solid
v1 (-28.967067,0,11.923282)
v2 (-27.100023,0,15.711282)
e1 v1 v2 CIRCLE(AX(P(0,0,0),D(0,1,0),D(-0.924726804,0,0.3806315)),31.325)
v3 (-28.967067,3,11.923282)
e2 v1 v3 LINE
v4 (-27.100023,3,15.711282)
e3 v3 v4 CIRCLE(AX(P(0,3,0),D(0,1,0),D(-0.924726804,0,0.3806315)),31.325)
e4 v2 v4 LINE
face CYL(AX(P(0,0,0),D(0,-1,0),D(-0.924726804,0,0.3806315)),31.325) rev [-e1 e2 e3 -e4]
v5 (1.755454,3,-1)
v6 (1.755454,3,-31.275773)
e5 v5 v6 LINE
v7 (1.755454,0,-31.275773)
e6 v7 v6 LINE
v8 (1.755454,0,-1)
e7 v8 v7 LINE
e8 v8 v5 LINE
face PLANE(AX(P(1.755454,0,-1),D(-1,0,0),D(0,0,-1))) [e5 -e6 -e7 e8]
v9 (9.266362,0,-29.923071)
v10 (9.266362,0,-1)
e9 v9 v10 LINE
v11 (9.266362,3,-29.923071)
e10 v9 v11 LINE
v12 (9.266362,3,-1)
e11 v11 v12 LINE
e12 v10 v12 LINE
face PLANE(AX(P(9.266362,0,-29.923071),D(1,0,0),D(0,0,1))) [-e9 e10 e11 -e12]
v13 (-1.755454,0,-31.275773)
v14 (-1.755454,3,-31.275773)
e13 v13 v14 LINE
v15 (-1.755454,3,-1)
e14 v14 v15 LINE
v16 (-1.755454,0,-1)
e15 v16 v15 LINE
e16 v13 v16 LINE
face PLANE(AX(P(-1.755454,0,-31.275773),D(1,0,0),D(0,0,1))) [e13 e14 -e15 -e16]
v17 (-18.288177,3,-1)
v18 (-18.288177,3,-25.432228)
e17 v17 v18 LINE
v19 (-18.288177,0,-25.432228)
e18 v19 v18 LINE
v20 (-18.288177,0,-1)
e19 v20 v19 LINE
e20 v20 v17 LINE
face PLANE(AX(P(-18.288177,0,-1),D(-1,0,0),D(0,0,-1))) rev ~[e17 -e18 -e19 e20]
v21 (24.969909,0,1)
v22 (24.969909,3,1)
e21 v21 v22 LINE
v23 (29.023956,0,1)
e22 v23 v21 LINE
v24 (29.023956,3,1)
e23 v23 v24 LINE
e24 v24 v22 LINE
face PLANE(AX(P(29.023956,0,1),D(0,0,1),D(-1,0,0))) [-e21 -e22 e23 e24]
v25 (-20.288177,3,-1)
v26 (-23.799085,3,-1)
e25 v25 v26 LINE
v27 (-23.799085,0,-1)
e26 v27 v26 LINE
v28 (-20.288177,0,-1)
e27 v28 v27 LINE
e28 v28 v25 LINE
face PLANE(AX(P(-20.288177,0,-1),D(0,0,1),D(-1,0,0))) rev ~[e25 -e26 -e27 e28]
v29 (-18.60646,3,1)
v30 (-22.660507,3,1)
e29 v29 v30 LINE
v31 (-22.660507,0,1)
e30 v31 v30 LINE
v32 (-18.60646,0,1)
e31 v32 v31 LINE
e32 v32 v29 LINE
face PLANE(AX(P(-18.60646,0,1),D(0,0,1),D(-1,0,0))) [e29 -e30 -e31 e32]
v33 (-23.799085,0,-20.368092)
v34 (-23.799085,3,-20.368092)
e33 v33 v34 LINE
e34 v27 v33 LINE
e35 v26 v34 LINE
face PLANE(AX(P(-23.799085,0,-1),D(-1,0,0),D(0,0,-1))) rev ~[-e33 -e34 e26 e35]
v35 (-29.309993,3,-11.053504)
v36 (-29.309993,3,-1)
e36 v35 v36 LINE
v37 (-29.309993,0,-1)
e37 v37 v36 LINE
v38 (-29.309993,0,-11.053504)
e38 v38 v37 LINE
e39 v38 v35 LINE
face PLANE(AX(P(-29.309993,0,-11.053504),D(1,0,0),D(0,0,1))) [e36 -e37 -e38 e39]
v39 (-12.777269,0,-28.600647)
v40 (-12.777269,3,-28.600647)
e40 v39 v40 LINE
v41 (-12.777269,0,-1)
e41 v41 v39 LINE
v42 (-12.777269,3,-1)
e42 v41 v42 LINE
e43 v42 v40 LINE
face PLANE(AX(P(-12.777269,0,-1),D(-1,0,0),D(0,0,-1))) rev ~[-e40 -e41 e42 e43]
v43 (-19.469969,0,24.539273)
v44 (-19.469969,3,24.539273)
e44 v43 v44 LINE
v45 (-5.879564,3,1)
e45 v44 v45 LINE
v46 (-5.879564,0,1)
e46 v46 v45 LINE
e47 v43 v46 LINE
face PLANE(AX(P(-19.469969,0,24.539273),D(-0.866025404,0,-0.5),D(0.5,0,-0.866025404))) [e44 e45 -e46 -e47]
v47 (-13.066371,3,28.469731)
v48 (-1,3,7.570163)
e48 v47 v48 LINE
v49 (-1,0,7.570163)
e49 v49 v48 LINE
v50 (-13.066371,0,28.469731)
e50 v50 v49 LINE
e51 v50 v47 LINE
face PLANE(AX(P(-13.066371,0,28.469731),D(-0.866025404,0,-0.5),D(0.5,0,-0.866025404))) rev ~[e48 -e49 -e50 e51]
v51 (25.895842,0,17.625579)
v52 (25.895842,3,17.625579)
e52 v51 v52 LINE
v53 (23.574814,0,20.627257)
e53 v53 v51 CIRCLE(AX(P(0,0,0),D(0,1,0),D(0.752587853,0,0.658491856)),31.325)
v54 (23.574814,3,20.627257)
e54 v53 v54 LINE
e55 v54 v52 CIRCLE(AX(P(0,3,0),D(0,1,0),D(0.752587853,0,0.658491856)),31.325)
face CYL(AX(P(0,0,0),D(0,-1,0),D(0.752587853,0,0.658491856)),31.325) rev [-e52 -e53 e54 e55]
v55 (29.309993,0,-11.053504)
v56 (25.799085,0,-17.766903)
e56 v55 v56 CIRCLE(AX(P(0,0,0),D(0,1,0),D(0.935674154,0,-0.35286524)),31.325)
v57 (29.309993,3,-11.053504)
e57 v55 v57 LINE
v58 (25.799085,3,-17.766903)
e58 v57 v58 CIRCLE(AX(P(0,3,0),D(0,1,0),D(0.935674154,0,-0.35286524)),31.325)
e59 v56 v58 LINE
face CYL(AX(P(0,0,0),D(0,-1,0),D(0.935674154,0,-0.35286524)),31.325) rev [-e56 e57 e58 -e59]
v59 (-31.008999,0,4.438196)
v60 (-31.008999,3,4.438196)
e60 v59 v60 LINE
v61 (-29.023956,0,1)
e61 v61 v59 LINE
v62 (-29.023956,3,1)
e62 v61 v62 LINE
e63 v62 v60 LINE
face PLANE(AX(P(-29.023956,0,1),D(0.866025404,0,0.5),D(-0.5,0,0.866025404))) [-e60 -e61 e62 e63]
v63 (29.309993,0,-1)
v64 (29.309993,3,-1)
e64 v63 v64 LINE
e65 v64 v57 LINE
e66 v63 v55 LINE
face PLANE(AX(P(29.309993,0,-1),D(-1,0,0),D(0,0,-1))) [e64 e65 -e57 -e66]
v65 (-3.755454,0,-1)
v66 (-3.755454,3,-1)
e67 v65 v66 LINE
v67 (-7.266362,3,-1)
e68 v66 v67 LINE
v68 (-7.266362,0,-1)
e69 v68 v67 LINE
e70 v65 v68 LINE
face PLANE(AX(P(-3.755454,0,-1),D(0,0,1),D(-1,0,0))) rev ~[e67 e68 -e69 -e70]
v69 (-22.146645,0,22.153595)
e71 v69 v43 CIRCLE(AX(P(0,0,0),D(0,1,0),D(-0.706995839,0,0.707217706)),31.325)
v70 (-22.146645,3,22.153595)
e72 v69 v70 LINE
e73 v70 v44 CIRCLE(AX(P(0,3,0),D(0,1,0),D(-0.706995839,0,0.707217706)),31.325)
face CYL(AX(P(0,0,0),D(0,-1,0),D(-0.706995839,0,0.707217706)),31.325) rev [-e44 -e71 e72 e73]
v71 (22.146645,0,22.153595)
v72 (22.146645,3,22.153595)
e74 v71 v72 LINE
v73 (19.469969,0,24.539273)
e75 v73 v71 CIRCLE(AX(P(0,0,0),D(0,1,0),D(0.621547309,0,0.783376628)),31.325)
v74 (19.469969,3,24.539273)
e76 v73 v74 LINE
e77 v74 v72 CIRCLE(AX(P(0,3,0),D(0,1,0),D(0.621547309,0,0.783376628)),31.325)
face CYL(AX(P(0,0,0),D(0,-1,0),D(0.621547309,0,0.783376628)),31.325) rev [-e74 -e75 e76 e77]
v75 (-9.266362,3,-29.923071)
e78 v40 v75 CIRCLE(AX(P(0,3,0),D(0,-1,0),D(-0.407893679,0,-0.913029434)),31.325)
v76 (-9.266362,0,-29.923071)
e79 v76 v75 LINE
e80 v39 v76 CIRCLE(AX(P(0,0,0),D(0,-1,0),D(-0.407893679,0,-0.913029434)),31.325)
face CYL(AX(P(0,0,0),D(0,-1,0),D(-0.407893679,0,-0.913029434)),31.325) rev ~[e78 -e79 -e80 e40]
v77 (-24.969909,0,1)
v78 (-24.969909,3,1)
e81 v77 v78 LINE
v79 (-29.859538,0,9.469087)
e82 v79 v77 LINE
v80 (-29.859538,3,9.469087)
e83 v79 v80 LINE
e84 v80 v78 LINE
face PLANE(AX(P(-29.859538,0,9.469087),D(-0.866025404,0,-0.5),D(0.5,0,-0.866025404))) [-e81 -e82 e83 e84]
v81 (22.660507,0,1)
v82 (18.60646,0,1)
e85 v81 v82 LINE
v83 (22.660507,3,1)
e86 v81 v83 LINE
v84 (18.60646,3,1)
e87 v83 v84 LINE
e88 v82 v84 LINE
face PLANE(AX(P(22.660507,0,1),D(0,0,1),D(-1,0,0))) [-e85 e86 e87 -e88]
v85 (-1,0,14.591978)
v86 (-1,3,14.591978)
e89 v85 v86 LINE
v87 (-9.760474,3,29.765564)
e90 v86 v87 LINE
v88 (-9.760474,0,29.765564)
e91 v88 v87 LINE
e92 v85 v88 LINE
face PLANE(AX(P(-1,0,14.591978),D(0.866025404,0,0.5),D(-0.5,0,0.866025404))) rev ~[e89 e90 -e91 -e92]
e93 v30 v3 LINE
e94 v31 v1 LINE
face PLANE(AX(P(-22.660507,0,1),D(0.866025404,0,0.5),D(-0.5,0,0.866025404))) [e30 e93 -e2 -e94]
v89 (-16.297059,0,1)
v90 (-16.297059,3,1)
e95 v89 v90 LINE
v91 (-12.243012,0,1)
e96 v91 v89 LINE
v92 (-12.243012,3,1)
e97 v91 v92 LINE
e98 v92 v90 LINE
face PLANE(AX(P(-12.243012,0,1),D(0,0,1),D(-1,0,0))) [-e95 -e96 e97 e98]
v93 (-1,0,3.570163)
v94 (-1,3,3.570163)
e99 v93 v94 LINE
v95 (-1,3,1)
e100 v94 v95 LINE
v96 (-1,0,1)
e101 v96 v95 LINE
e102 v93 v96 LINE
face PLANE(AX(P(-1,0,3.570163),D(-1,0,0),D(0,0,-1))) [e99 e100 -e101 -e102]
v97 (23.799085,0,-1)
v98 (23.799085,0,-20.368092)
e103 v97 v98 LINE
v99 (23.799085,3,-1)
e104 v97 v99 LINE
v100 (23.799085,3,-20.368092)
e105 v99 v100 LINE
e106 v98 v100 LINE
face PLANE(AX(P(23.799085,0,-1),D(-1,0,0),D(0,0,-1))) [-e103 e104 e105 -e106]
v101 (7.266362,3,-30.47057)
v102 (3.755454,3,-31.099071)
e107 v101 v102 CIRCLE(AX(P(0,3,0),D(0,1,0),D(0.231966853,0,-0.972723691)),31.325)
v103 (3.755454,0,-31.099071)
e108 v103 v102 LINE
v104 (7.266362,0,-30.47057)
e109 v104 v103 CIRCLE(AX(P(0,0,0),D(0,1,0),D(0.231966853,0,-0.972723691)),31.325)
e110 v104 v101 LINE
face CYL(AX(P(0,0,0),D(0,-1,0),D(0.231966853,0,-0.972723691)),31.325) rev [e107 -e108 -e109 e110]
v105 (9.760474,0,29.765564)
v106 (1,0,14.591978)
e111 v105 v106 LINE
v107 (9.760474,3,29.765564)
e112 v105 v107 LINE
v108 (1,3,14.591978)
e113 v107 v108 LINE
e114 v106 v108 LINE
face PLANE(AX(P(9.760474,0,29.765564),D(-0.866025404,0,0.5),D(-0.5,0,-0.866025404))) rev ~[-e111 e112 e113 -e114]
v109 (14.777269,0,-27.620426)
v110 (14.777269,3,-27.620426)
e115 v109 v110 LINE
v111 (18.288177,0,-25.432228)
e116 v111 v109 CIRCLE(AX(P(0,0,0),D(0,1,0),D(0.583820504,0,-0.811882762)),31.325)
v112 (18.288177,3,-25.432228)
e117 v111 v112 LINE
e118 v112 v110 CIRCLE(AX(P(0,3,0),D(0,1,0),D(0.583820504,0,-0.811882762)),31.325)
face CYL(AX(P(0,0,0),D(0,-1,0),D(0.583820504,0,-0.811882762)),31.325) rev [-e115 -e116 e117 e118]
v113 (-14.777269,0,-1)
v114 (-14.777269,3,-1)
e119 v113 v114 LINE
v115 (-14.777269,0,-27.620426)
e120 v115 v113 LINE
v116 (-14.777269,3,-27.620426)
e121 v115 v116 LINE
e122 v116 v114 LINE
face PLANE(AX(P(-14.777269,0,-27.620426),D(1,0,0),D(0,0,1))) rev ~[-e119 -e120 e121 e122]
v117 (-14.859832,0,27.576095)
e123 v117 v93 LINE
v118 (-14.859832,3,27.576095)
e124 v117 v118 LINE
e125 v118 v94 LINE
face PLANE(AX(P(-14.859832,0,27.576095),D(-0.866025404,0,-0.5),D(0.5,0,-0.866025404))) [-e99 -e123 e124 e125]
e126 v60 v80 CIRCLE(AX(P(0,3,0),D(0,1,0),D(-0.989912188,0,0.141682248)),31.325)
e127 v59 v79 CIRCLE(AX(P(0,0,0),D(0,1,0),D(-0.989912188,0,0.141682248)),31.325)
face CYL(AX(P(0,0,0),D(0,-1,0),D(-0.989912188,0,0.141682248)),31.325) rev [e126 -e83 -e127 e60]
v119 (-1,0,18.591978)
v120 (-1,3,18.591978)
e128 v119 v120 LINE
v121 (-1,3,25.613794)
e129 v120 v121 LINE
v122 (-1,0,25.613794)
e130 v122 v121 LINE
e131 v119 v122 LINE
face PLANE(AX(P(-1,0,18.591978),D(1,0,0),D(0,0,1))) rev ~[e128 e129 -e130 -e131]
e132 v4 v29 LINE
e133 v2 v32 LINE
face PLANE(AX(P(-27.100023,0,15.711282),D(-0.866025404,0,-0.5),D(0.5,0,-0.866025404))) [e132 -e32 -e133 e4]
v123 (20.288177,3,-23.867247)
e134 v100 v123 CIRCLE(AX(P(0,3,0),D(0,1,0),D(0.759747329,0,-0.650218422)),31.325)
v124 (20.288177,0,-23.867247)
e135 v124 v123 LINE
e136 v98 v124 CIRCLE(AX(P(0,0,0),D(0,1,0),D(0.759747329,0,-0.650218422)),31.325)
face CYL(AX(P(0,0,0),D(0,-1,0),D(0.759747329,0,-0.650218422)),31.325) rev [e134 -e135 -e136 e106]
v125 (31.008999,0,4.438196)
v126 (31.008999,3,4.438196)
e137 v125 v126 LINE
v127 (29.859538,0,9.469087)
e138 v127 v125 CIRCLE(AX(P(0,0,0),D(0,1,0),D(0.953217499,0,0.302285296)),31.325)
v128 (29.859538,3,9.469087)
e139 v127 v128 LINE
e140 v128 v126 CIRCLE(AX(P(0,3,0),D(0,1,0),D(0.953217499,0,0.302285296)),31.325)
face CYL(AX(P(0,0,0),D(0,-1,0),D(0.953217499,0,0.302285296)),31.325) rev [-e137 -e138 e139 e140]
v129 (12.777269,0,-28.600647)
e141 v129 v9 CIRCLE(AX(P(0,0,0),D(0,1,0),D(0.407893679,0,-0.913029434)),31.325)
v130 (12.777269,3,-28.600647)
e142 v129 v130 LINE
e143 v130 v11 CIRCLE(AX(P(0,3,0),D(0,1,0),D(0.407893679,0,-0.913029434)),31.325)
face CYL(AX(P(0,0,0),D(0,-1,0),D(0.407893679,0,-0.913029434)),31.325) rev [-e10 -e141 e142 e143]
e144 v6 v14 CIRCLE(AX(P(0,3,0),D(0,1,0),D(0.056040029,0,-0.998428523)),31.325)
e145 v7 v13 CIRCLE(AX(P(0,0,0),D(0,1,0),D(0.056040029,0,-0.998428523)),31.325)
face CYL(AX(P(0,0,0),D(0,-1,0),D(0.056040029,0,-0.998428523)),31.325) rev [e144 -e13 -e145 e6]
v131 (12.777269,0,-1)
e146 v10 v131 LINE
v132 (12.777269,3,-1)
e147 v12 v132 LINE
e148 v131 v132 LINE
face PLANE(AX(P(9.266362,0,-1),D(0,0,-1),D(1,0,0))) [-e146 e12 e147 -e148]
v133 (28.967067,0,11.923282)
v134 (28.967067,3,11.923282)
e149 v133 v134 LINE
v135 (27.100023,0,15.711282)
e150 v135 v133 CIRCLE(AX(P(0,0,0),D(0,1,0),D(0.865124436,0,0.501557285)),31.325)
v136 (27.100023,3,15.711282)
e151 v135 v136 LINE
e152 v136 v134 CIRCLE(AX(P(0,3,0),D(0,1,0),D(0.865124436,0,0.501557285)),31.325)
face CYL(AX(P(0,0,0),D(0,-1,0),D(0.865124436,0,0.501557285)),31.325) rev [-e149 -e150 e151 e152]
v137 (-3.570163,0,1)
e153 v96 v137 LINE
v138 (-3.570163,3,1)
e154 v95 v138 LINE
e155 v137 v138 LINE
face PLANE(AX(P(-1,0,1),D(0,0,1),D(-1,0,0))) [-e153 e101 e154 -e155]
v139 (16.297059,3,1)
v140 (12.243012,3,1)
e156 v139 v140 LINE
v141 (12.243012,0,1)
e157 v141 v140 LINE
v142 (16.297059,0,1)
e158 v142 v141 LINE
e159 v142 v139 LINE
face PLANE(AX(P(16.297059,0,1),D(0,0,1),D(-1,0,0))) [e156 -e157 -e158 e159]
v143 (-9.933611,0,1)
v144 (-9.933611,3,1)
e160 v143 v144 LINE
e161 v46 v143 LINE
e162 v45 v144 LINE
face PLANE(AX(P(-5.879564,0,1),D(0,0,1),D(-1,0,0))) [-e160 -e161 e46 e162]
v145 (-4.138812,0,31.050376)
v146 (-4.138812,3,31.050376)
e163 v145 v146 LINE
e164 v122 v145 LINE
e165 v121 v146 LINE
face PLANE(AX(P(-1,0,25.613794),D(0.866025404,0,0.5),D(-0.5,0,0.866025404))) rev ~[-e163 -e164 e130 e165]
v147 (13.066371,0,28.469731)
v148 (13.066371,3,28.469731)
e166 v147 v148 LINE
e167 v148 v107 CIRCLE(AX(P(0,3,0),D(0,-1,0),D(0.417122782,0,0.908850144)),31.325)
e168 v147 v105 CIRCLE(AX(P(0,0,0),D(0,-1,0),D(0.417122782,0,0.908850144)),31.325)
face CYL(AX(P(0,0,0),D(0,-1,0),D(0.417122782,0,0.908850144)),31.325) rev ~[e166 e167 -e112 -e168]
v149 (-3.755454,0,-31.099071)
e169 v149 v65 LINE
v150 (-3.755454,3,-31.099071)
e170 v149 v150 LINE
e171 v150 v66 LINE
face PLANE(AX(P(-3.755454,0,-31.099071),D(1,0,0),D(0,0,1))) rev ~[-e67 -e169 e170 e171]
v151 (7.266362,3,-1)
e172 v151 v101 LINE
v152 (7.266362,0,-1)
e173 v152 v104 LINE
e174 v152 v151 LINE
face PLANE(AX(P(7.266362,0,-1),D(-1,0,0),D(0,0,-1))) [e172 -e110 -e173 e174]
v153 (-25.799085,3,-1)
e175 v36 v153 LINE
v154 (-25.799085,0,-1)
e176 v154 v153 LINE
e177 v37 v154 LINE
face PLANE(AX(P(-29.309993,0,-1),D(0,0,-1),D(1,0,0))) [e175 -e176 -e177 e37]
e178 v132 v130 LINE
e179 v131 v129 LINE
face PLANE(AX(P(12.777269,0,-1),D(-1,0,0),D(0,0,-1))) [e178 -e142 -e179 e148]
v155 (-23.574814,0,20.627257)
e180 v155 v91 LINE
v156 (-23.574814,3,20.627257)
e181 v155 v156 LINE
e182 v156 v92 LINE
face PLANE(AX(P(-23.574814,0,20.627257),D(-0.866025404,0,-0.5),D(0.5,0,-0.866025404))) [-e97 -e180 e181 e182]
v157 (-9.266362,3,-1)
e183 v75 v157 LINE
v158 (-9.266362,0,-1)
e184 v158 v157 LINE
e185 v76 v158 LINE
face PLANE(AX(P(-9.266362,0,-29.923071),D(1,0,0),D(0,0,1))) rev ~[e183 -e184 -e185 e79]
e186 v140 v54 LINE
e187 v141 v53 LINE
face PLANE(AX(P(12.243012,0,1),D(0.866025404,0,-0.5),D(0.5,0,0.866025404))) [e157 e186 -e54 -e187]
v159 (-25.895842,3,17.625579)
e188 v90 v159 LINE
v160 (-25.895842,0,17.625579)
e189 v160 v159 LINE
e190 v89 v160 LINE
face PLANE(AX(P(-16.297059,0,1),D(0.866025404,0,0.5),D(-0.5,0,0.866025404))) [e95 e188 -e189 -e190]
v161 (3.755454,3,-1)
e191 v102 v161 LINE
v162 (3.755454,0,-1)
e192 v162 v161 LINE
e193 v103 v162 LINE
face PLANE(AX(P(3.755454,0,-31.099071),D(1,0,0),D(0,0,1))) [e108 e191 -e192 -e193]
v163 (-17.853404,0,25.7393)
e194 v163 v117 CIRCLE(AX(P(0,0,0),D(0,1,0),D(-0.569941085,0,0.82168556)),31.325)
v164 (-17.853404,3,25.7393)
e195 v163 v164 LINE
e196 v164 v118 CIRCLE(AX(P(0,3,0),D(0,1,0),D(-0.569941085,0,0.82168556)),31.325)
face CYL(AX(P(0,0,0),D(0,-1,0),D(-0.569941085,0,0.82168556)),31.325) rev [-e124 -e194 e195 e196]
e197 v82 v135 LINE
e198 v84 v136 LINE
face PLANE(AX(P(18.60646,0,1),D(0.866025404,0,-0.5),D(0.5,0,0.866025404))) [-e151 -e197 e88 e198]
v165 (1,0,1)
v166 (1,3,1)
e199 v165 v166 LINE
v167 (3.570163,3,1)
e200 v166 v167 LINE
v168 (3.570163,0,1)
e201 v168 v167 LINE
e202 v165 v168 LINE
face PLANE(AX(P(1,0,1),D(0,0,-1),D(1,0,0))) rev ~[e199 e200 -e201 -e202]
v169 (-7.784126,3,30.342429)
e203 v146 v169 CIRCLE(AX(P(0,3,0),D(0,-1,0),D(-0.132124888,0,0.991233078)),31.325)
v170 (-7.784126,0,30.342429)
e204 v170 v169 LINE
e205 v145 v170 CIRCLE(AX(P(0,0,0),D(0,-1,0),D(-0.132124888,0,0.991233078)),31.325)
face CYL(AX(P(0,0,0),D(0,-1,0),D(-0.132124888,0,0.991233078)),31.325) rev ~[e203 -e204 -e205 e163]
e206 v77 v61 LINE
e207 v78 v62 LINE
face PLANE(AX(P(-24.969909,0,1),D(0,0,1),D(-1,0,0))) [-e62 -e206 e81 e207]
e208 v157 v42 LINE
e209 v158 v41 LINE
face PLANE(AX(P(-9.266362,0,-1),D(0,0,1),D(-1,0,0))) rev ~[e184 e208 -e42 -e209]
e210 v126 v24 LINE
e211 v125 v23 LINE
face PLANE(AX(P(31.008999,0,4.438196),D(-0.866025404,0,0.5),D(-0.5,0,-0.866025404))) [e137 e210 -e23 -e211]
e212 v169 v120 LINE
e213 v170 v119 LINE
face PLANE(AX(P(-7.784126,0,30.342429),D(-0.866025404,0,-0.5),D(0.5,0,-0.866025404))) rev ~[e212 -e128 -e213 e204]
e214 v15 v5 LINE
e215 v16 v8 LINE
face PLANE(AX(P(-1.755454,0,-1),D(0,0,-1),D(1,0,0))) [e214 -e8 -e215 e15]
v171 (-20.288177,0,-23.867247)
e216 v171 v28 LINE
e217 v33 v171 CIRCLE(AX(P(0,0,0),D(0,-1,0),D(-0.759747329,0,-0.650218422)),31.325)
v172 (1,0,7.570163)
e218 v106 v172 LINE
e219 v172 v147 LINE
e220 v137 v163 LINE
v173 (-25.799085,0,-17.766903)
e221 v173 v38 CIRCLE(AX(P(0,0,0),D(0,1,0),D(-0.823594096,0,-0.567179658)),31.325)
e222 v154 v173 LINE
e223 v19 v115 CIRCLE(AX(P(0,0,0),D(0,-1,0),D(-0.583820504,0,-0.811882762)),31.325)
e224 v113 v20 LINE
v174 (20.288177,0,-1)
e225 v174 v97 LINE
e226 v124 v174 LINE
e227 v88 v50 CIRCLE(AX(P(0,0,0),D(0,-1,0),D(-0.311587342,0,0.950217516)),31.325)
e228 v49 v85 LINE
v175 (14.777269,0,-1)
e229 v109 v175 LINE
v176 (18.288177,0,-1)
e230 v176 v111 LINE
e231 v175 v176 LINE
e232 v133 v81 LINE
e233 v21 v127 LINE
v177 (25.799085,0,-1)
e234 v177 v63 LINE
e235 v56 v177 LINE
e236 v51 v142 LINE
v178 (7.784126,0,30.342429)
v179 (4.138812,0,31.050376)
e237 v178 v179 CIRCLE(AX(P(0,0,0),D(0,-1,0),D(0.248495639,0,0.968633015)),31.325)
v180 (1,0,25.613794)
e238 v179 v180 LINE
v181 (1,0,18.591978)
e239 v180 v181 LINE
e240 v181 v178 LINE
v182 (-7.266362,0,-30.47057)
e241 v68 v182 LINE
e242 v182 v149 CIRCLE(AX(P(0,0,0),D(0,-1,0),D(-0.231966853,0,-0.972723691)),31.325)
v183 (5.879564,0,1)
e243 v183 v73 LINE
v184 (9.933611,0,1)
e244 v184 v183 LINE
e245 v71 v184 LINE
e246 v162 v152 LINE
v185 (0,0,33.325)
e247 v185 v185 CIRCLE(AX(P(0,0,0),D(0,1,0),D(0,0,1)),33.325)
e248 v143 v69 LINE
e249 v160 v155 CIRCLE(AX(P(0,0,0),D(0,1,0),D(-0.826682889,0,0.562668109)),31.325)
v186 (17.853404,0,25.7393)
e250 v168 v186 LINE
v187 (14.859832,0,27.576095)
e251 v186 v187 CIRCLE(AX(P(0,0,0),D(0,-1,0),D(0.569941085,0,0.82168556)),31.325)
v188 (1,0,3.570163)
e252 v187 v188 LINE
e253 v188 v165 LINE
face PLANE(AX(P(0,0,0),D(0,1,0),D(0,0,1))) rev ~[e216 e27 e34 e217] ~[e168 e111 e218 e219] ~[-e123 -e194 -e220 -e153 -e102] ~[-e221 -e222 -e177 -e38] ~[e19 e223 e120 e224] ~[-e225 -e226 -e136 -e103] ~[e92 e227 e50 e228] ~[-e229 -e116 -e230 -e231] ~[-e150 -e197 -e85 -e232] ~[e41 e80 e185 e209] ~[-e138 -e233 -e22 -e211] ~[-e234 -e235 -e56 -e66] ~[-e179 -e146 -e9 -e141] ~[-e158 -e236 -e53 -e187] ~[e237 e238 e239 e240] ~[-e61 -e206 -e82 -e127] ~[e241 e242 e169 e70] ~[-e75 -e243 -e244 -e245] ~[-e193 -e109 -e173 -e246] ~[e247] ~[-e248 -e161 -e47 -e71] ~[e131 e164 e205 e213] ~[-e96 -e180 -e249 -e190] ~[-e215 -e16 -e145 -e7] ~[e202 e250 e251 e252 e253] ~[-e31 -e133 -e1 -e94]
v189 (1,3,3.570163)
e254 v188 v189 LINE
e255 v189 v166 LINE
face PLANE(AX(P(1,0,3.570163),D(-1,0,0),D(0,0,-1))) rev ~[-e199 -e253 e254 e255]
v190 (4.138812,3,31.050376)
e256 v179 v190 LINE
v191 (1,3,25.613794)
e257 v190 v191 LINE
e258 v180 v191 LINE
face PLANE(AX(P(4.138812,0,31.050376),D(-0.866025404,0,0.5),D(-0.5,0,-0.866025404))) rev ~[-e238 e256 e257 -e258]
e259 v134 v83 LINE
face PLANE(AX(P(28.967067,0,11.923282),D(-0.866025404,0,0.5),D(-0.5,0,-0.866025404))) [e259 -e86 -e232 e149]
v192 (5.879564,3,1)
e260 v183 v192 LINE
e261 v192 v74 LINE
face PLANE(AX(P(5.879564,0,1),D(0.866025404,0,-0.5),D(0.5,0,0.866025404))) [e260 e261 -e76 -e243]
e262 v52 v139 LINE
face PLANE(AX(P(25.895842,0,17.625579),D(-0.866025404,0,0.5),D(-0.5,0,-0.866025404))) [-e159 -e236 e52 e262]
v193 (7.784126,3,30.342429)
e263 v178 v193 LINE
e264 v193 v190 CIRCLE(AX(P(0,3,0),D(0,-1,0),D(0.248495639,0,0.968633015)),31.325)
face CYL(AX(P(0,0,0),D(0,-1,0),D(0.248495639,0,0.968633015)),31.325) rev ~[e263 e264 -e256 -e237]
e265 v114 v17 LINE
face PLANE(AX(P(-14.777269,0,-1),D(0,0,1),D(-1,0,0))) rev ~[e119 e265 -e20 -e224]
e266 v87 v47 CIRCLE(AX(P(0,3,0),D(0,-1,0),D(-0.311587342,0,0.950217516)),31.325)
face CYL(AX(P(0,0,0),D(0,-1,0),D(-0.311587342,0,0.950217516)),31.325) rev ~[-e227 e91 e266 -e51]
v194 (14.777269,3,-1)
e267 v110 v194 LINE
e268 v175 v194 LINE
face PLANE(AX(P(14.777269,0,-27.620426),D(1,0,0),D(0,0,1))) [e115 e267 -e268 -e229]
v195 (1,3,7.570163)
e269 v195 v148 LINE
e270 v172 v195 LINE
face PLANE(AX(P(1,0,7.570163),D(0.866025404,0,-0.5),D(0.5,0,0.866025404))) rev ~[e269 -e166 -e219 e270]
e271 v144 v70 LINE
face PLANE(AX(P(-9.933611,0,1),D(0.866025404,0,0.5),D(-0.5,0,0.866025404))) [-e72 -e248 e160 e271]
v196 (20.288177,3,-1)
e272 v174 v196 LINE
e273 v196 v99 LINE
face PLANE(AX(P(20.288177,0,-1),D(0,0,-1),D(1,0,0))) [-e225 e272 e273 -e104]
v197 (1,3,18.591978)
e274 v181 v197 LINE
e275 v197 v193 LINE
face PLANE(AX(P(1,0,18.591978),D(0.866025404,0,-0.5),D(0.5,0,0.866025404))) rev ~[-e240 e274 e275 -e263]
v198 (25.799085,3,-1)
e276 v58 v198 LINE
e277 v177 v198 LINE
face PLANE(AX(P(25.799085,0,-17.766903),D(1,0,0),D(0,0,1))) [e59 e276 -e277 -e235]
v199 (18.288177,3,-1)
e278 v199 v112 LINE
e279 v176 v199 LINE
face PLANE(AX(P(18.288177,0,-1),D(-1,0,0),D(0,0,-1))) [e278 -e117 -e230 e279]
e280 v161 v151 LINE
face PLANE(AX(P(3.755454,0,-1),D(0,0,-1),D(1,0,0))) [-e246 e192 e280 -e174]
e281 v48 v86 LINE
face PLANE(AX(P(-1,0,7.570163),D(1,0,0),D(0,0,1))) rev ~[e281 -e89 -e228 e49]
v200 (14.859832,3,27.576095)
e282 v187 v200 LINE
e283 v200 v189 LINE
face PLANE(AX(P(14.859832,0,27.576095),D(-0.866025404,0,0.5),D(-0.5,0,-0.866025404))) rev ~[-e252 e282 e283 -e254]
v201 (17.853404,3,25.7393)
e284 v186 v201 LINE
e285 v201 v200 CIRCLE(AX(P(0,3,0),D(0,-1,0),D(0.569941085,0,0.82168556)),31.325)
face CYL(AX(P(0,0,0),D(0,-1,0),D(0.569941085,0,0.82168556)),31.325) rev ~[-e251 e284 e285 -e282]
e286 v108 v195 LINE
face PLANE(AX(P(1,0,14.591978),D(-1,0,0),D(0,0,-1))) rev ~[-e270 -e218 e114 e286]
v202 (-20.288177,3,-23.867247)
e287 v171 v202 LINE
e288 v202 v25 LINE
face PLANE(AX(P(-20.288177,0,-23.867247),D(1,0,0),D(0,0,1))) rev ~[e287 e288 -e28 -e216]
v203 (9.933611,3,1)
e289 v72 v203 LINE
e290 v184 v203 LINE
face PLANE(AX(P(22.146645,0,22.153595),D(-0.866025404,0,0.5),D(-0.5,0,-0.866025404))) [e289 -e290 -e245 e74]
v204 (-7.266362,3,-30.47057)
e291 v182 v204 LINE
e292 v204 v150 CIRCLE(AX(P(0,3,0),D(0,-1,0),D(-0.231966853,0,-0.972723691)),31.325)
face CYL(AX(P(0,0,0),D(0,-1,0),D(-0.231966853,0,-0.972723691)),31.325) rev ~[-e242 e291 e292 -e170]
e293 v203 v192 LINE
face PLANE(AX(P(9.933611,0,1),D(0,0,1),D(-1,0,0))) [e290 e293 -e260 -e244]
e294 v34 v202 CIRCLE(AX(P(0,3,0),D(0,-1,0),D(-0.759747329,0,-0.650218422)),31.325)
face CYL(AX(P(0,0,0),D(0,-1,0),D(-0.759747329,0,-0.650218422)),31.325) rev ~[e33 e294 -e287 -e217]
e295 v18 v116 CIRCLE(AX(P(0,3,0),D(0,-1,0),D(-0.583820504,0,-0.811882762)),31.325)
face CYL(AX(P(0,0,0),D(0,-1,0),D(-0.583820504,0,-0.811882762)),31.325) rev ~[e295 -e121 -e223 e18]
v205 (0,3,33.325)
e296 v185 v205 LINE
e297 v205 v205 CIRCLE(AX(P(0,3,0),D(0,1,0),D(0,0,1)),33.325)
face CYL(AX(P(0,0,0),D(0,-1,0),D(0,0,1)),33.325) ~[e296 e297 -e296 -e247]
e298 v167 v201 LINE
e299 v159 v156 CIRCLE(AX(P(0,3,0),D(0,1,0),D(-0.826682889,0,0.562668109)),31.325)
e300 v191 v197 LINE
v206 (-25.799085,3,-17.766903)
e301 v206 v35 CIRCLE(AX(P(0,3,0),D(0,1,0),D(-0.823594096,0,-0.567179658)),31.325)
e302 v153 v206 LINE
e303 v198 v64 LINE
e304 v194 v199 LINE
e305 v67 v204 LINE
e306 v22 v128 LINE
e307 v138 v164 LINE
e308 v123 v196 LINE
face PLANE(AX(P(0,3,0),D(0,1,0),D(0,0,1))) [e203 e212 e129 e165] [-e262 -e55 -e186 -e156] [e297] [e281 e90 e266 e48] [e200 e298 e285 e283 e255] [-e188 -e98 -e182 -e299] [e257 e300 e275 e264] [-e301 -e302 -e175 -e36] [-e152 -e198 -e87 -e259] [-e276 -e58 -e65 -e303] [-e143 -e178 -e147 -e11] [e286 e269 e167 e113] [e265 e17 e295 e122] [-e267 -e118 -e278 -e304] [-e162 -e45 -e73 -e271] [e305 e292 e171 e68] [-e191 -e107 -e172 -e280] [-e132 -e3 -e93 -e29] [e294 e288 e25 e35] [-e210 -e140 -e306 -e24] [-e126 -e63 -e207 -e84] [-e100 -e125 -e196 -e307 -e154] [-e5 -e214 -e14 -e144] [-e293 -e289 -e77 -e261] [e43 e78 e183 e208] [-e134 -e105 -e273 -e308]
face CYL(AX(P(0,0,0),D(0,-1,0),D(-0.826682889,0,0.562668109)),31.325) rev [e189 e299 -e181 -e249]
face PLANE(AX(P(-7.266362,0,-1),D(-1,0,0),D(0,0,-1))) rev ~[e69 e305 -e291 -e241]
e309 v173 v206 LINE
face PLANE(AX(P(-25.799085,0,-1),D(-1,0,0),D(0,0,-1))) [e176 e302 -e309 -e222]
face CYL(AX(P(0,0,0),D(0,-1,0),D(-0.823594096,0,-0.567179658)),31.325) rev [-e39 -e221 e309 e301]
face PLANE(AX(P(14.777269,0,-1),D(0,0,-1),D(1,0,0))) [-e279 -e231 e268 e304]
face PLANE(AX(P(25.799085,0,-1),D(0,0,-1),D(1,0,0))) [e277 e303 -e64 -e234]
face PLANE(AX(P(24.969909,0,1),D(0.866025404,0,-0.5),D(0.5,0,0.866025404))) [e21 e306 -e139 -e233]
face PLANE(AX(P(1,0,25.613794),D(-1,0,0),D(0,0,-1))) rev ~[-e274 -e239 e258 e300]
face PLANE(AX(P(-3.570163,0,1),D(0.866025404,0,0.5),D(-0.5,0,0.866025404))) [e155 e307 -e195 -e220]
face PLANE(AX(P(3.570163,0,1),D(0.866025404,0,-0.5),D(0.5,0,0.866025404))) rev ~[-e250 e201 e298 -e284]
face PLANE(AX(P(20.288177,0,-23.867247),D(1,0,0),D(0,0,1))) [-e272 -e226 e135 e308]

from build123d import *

# Parameters (mm, degrees)
SKETCH1_R           = 33.325
BOSS_EXTRUDE1_DEPTH = 3


with BuildPart() as part:
    # Sketch1 → Boss-Extrude1 (new body)
    with BuildSketch(Plane(origin=(0, 0, 0), x_dir=(1, 0, 0), z_dir=(0, 1, 0))):
        with Locations(Location((0, 0, 0), (0, 0, 270))):
            Circle(SKETCH1_R)
        with BuildLine():
            Line((1.755453897, 1), (1.755453897, 31.275773477))
            ThreePointArc((1.755453897, 31.275773477), (0, 31.325), (-1.755453897, 31.275773477))
            Line((-1.755453897, 31.275773477), (-1.755453897, 1))
            Line((-1.755453897, 1), (1.755453897, 1))
        make_face(mode=Mode.SUBTRACT)
        with BuildLine():
            Line((29.30999287, 1), (29.30999287, 11.053503651))
            ThreePointArc((29.30999287, 11.053503651), (27.758242919, 14.516734311), (25.799085075, 17.766902776))
            Line((25.799085075, 17.766902776), (25.799085075, 1))
            Line((25.799085075, 1), (29.30999287, 1))
        make_face(mode=Mode.SUBTRACT)
        with BuildLine():
            Line((3.755453897, 1), (7.266361692, 1))
            Line((7.266361692, 1), (7.266361692, 30.470569617))
            ThreePointArc((7.266361692, 30.470569617), (5.519860332, 30.834830418), (3.755453897, 31.099070581))
            Line((3.755453897, 31.099070581), (3.755453897, 1))
        make_face(mode=Mode.SUBTRACT)
        with BuildLine():
            Line((9.266361692, 1), (12.777269486, 1))
            Line((12.777269486, 1), (12.777269486, 28.600647011))
            ThreePointArc((12.777269486, 28.600647011), (11.041631222, 29.314467502), (9.266361692, 29.923070798))
            Line((9.266361692, 29.923070798), (9.266361692, 1))
        make_face(mode=Mode.SUBTRACT)
        with BuildLine():
            Line((14.777269486, 1), (18.288177281, 1))
            Line((18.288177281, 1), (18.288177281, 25.432227522))
            ThreePointArc((18.288177281, 25.432227522), (16.568886372, 26.584349332), (14.777269486, 27.620425984))
            Line((14.777269486, 27.620425984), (14.777269486, 1))
        make_face(mode=Mode.SUBTRACT)
        with BuildLine():
            Line((20.288177281, 1), (23.799085075, 1))
            Line((23.799085075, 1), (23.799085075, 20.36809207))
            ThreePointArc((23.799085075, 20.36809207), (22.112953153, 22.187224429), (20.288177281, 23.867247173))
            Line((20.288177281, 23.867247173), (20.288177281, 1))
        make_face(mode=Mode.SUBTRACT)
        with BuildLine():
            Line((1, -3.570162886), (1, -1))
            Line((1, -1), (3.570162886, -1))
            Line((3.570162886, -1), (17.853404495, -25.739300164))
            ThreePointArc((17.853404495, -25.739300164), (16.382380994, -26.699685728), (14.859831538, -27.576095294))
            Line((14.859831538, -27.576095294), (1, -3.570162886))
        make_face(mode=Mode.SUBTRACT)
        with BuildLine():
            Line((5.879563963, -1), (19.469969491, -24.53927287))
            ThreePointArc((19.469969491, -24.53927287), (20.842468862, -23.384762491), (22.146644648, -22.153594648))
            Line((22.146644648, -22.153594648), (9.933611084, -1))
            Line((9.933611084, -1), (5.879563963, -1))
        make_face(mode=Mode.SUBTRACT)
        with BuildLine():
            Line((12.24301216, -1), (23.574814489, -20.627257375))
            ThreePointArc((23.574814489, -20.627257375), (24.780818594, -19.161593223), (25.895841507, -17.625578506))
            Line((25.895841507, -17.625578506), (16.297059281, -1))
            Line((16.297059281, -1), (12.24301216, -1))
        make_face(mode=Mode.SUBTRACT)
        with BuildLine():
            Line((18.606460358, -1), (27.100022956, -15.711281958))
            ThreePointArc((27.100022956, -15.711281958), (28.097453336, -13.848781211), (28.967067125, -11.923281729))
            Line((28.967067125, -11.923281729), (22.660507478, -1))
            Line((22.660507478, -1), (18.606460358, -1))
        make_face(mode=Mode.SUBTRACT)
        with BuildLine():
            Line((24.969908555, -1), (29.85953815, -9.469086888))
            ThreePointArc((29.85953815, -9.469086888), (30.538044757, -6.977352466), (31.0089993, -4.438196413))
            Line((31.0089993, -4.438196413), (29.023955676, -1))
            Line((29.023955676, -1), (24.969908555, -1))
        make_face(mode=Mode.SUBTRACT)
        with BuildLine():
            Line((1, -7.570162886), (13.066371144, -28.46973077))
            ThreePointArc((13.066371144, -28.46973077), (11.431797975, -29.164526742), (9.760473509, -29.765563692))
            Line((9.760473509, -29.765563692), (1, -14.591978475))
            Line((1, -14.591978475), (1, -7.570162886))
        make_face(mode=Mode.SUBTRACT)
        with BuildLine():
            Line((1, -18.591978475), (7.784125884, -30.342429191))
            ThreePointArc((7.784125884, -30.342429191), (5.971968683, -30.750466908), (4.138812131, -31.050376151))
            Line((4.138812131, -31.050376151), (1, -25.613794064))
            Line((1, -25.613794064), (1, -18.591978475))
        make_face(mode=Mode.SUBTRACT)
        with BuildLine():
            Line((-29.30999287, 1), (-25.799085075, 1))
            Line((-25.799085075, 1), (-25.799085075, 17.766902776))
            ThreePointArc((-25.799085075, 17.766902776), (-27.758242919, 14.516734311), (-29.30999287, 11.053503651))
            Line((-29.30999287, 11.053503651), (-29.30999287, 1))
        make_face(mode=Mode.SUBTRACT)
        with BuildLine():
            Line((-20.288177281, 1), (-23.799085075, 1))
            Line((-23.799085075, 1), (-23.799085075, 20.36809207))
            ThreePointArc((-23.799085075, 20.36809207), (-22.112953153, 22.187224429), (-20.288177281, 23.867247173))
            Line((-20.288177281, 23.867247173), (-20.288177281, 1))
        make_face(mode=Mode.SUBTRACT)
        with BuildLine():
            Line((-14.777269486, 1), (-18.288177281, 1))
            Line((-18.288177281, 1), (-18.288177281, 25.432227522))
            ThreePointArc((-18.288177281, 25.432227522), (-16.568886372, 26.584349332), (-14.777269486, 27.620425984))
            Line((-14.777269486, 27.620425984), (-14.777269486, 1))
        make_face(mode=Mode.SUBTRACT)
        with BuildLine():
            Line((-9.266361692, 1), (-12.777269486, 1))
            Line((-12.777269486, 1), (-12.777269486, 28.600647011))
            ThreePointArc((-12.777269486, 28.600647011), (-11.041631222, 29.314467502), (-9.266361692, 29.923070798))
            Line((-9.266361692, 29.923070798), (-9.266361692, 1))
        make_face(mode=Mode.SUBTRACT)
        with BuildLine():
            Line((-3.755453897, 1), (-7.266361692, 1))
            Line((-7.266361692, 1), (-7.266361692, 30.470569617))
            ThreePointArc((-7.266361692, 30.470569617), (-5.519860332, 30.834830418), (-3.755453897, 31.099070581))
            Line((-3.755453897, 31.099070581), (-3.755453897, 1))
        make_face(mode=Mode.SUBTRACT)
        with BuildLine():
            Line((-24.969908555, -1), (-29.023955676, -1))
            Line((-29.023955676, -1), (-31.0089993, -4.438196413))
            ThreePointArc((-31.0089993, -4.438196413), (-30.538044757, -6.977352466), (-29.85953815, -9.469086888))
            Line((-29.85953815, -9.469086888), (-24.969908555, -1))
        make_face(mode=Mode.SUBTRACT)
        with BuildLine():
            Line((-18.606460358, -1), (-22.660507478, -1))
            Line((-22.660507478, -1), (-28.967067125, -11.923281729))
            ThreePointArc((-28.967067125, -11.923281729), (-28.097453336, -13.848781211), (-27.100022956, -15.711281958))
            Line((-27.100022956, -15.711281958), (-18.606460358, -1))
        make_face(mode=Mode.SUBTRACT)
        with BuildLine():
            Line((-12.24301216, -1), (-16.297059281, -1))
            Line((-16.297059281, -1), (-25.895841507, -17.625578506))
            ThreePointArc((-25.895841507, -17.625578506), (-24.780818594, -19.161593223), (-23.574814489, -20.627257375))
            Line((-23.574814489, -20.627257375), (-12.24301216, -1))
        make_face(mode=Mode.SUBTRACT)
        with BuildLine():
            Line((-5.879563963, -1), (-9.933611084, -1))
            Line((-9.933611084, -1), (-22.146644648, -22.153594648))
            ThreePointArc((-22.146644648, -22.153594648), (-20.842468862, -23.384762491), (-19.469969491, -24.53927287))
            Line((-19.469969491, -24.53927287), (-5.879563963, -1))
        make_face(mode=Mode.SUBTRACT)
        with BuildLine():
            Line((-1, -1), (-3.570162886, -1))
            Line((-3.570162886, -1), (-17.853404495, -25.739300164))
            ThreePointArc((-17.853404495, -25.739300164), (-16.382380994, -26.699685728), (-14.859831538, -27.576095294))
            Line((-14.859831538, -27.576095294), (-1, -3.570162886))
            Line((-1, -3.570162886), (-1, -1))
        make_face(mode=Mode.SUBTRACT)
        with BuildLine():
            Line((-1, -7.570162886), (-1, -14.591978475))
            Line((-1, -14.591978475), (-9.760473509, -29.765563692))
            ThreePointArc((-9.760473509, -29.765563692), (-11.431797975, -29.164526742), (-13.066371144, -28.46973077))
            Line((-13.066371144, -28.46973077), (-1, -7.570162886))
        make_face(mode=Mode.SUBTRACT)
        with BuildLine():
            Line((-1, -18.591978475), (-1, -25.613794064))
            Line((-1, -25.613794064), (-4.138812131, -31.050376151))
            ThreePointArc((-4.138812131, -31.050376151), (-5.971968683, -30.750466908), (-7.784125884, -30.342429191))
            Line((-7.784125884, -30.342429191), (-1, -18.591978475))
        make_face(mode=Mode.SUBTRACT)
    extrude(amount=BOSS_EXTRUDE1_DEPTH)


solid = part.part
